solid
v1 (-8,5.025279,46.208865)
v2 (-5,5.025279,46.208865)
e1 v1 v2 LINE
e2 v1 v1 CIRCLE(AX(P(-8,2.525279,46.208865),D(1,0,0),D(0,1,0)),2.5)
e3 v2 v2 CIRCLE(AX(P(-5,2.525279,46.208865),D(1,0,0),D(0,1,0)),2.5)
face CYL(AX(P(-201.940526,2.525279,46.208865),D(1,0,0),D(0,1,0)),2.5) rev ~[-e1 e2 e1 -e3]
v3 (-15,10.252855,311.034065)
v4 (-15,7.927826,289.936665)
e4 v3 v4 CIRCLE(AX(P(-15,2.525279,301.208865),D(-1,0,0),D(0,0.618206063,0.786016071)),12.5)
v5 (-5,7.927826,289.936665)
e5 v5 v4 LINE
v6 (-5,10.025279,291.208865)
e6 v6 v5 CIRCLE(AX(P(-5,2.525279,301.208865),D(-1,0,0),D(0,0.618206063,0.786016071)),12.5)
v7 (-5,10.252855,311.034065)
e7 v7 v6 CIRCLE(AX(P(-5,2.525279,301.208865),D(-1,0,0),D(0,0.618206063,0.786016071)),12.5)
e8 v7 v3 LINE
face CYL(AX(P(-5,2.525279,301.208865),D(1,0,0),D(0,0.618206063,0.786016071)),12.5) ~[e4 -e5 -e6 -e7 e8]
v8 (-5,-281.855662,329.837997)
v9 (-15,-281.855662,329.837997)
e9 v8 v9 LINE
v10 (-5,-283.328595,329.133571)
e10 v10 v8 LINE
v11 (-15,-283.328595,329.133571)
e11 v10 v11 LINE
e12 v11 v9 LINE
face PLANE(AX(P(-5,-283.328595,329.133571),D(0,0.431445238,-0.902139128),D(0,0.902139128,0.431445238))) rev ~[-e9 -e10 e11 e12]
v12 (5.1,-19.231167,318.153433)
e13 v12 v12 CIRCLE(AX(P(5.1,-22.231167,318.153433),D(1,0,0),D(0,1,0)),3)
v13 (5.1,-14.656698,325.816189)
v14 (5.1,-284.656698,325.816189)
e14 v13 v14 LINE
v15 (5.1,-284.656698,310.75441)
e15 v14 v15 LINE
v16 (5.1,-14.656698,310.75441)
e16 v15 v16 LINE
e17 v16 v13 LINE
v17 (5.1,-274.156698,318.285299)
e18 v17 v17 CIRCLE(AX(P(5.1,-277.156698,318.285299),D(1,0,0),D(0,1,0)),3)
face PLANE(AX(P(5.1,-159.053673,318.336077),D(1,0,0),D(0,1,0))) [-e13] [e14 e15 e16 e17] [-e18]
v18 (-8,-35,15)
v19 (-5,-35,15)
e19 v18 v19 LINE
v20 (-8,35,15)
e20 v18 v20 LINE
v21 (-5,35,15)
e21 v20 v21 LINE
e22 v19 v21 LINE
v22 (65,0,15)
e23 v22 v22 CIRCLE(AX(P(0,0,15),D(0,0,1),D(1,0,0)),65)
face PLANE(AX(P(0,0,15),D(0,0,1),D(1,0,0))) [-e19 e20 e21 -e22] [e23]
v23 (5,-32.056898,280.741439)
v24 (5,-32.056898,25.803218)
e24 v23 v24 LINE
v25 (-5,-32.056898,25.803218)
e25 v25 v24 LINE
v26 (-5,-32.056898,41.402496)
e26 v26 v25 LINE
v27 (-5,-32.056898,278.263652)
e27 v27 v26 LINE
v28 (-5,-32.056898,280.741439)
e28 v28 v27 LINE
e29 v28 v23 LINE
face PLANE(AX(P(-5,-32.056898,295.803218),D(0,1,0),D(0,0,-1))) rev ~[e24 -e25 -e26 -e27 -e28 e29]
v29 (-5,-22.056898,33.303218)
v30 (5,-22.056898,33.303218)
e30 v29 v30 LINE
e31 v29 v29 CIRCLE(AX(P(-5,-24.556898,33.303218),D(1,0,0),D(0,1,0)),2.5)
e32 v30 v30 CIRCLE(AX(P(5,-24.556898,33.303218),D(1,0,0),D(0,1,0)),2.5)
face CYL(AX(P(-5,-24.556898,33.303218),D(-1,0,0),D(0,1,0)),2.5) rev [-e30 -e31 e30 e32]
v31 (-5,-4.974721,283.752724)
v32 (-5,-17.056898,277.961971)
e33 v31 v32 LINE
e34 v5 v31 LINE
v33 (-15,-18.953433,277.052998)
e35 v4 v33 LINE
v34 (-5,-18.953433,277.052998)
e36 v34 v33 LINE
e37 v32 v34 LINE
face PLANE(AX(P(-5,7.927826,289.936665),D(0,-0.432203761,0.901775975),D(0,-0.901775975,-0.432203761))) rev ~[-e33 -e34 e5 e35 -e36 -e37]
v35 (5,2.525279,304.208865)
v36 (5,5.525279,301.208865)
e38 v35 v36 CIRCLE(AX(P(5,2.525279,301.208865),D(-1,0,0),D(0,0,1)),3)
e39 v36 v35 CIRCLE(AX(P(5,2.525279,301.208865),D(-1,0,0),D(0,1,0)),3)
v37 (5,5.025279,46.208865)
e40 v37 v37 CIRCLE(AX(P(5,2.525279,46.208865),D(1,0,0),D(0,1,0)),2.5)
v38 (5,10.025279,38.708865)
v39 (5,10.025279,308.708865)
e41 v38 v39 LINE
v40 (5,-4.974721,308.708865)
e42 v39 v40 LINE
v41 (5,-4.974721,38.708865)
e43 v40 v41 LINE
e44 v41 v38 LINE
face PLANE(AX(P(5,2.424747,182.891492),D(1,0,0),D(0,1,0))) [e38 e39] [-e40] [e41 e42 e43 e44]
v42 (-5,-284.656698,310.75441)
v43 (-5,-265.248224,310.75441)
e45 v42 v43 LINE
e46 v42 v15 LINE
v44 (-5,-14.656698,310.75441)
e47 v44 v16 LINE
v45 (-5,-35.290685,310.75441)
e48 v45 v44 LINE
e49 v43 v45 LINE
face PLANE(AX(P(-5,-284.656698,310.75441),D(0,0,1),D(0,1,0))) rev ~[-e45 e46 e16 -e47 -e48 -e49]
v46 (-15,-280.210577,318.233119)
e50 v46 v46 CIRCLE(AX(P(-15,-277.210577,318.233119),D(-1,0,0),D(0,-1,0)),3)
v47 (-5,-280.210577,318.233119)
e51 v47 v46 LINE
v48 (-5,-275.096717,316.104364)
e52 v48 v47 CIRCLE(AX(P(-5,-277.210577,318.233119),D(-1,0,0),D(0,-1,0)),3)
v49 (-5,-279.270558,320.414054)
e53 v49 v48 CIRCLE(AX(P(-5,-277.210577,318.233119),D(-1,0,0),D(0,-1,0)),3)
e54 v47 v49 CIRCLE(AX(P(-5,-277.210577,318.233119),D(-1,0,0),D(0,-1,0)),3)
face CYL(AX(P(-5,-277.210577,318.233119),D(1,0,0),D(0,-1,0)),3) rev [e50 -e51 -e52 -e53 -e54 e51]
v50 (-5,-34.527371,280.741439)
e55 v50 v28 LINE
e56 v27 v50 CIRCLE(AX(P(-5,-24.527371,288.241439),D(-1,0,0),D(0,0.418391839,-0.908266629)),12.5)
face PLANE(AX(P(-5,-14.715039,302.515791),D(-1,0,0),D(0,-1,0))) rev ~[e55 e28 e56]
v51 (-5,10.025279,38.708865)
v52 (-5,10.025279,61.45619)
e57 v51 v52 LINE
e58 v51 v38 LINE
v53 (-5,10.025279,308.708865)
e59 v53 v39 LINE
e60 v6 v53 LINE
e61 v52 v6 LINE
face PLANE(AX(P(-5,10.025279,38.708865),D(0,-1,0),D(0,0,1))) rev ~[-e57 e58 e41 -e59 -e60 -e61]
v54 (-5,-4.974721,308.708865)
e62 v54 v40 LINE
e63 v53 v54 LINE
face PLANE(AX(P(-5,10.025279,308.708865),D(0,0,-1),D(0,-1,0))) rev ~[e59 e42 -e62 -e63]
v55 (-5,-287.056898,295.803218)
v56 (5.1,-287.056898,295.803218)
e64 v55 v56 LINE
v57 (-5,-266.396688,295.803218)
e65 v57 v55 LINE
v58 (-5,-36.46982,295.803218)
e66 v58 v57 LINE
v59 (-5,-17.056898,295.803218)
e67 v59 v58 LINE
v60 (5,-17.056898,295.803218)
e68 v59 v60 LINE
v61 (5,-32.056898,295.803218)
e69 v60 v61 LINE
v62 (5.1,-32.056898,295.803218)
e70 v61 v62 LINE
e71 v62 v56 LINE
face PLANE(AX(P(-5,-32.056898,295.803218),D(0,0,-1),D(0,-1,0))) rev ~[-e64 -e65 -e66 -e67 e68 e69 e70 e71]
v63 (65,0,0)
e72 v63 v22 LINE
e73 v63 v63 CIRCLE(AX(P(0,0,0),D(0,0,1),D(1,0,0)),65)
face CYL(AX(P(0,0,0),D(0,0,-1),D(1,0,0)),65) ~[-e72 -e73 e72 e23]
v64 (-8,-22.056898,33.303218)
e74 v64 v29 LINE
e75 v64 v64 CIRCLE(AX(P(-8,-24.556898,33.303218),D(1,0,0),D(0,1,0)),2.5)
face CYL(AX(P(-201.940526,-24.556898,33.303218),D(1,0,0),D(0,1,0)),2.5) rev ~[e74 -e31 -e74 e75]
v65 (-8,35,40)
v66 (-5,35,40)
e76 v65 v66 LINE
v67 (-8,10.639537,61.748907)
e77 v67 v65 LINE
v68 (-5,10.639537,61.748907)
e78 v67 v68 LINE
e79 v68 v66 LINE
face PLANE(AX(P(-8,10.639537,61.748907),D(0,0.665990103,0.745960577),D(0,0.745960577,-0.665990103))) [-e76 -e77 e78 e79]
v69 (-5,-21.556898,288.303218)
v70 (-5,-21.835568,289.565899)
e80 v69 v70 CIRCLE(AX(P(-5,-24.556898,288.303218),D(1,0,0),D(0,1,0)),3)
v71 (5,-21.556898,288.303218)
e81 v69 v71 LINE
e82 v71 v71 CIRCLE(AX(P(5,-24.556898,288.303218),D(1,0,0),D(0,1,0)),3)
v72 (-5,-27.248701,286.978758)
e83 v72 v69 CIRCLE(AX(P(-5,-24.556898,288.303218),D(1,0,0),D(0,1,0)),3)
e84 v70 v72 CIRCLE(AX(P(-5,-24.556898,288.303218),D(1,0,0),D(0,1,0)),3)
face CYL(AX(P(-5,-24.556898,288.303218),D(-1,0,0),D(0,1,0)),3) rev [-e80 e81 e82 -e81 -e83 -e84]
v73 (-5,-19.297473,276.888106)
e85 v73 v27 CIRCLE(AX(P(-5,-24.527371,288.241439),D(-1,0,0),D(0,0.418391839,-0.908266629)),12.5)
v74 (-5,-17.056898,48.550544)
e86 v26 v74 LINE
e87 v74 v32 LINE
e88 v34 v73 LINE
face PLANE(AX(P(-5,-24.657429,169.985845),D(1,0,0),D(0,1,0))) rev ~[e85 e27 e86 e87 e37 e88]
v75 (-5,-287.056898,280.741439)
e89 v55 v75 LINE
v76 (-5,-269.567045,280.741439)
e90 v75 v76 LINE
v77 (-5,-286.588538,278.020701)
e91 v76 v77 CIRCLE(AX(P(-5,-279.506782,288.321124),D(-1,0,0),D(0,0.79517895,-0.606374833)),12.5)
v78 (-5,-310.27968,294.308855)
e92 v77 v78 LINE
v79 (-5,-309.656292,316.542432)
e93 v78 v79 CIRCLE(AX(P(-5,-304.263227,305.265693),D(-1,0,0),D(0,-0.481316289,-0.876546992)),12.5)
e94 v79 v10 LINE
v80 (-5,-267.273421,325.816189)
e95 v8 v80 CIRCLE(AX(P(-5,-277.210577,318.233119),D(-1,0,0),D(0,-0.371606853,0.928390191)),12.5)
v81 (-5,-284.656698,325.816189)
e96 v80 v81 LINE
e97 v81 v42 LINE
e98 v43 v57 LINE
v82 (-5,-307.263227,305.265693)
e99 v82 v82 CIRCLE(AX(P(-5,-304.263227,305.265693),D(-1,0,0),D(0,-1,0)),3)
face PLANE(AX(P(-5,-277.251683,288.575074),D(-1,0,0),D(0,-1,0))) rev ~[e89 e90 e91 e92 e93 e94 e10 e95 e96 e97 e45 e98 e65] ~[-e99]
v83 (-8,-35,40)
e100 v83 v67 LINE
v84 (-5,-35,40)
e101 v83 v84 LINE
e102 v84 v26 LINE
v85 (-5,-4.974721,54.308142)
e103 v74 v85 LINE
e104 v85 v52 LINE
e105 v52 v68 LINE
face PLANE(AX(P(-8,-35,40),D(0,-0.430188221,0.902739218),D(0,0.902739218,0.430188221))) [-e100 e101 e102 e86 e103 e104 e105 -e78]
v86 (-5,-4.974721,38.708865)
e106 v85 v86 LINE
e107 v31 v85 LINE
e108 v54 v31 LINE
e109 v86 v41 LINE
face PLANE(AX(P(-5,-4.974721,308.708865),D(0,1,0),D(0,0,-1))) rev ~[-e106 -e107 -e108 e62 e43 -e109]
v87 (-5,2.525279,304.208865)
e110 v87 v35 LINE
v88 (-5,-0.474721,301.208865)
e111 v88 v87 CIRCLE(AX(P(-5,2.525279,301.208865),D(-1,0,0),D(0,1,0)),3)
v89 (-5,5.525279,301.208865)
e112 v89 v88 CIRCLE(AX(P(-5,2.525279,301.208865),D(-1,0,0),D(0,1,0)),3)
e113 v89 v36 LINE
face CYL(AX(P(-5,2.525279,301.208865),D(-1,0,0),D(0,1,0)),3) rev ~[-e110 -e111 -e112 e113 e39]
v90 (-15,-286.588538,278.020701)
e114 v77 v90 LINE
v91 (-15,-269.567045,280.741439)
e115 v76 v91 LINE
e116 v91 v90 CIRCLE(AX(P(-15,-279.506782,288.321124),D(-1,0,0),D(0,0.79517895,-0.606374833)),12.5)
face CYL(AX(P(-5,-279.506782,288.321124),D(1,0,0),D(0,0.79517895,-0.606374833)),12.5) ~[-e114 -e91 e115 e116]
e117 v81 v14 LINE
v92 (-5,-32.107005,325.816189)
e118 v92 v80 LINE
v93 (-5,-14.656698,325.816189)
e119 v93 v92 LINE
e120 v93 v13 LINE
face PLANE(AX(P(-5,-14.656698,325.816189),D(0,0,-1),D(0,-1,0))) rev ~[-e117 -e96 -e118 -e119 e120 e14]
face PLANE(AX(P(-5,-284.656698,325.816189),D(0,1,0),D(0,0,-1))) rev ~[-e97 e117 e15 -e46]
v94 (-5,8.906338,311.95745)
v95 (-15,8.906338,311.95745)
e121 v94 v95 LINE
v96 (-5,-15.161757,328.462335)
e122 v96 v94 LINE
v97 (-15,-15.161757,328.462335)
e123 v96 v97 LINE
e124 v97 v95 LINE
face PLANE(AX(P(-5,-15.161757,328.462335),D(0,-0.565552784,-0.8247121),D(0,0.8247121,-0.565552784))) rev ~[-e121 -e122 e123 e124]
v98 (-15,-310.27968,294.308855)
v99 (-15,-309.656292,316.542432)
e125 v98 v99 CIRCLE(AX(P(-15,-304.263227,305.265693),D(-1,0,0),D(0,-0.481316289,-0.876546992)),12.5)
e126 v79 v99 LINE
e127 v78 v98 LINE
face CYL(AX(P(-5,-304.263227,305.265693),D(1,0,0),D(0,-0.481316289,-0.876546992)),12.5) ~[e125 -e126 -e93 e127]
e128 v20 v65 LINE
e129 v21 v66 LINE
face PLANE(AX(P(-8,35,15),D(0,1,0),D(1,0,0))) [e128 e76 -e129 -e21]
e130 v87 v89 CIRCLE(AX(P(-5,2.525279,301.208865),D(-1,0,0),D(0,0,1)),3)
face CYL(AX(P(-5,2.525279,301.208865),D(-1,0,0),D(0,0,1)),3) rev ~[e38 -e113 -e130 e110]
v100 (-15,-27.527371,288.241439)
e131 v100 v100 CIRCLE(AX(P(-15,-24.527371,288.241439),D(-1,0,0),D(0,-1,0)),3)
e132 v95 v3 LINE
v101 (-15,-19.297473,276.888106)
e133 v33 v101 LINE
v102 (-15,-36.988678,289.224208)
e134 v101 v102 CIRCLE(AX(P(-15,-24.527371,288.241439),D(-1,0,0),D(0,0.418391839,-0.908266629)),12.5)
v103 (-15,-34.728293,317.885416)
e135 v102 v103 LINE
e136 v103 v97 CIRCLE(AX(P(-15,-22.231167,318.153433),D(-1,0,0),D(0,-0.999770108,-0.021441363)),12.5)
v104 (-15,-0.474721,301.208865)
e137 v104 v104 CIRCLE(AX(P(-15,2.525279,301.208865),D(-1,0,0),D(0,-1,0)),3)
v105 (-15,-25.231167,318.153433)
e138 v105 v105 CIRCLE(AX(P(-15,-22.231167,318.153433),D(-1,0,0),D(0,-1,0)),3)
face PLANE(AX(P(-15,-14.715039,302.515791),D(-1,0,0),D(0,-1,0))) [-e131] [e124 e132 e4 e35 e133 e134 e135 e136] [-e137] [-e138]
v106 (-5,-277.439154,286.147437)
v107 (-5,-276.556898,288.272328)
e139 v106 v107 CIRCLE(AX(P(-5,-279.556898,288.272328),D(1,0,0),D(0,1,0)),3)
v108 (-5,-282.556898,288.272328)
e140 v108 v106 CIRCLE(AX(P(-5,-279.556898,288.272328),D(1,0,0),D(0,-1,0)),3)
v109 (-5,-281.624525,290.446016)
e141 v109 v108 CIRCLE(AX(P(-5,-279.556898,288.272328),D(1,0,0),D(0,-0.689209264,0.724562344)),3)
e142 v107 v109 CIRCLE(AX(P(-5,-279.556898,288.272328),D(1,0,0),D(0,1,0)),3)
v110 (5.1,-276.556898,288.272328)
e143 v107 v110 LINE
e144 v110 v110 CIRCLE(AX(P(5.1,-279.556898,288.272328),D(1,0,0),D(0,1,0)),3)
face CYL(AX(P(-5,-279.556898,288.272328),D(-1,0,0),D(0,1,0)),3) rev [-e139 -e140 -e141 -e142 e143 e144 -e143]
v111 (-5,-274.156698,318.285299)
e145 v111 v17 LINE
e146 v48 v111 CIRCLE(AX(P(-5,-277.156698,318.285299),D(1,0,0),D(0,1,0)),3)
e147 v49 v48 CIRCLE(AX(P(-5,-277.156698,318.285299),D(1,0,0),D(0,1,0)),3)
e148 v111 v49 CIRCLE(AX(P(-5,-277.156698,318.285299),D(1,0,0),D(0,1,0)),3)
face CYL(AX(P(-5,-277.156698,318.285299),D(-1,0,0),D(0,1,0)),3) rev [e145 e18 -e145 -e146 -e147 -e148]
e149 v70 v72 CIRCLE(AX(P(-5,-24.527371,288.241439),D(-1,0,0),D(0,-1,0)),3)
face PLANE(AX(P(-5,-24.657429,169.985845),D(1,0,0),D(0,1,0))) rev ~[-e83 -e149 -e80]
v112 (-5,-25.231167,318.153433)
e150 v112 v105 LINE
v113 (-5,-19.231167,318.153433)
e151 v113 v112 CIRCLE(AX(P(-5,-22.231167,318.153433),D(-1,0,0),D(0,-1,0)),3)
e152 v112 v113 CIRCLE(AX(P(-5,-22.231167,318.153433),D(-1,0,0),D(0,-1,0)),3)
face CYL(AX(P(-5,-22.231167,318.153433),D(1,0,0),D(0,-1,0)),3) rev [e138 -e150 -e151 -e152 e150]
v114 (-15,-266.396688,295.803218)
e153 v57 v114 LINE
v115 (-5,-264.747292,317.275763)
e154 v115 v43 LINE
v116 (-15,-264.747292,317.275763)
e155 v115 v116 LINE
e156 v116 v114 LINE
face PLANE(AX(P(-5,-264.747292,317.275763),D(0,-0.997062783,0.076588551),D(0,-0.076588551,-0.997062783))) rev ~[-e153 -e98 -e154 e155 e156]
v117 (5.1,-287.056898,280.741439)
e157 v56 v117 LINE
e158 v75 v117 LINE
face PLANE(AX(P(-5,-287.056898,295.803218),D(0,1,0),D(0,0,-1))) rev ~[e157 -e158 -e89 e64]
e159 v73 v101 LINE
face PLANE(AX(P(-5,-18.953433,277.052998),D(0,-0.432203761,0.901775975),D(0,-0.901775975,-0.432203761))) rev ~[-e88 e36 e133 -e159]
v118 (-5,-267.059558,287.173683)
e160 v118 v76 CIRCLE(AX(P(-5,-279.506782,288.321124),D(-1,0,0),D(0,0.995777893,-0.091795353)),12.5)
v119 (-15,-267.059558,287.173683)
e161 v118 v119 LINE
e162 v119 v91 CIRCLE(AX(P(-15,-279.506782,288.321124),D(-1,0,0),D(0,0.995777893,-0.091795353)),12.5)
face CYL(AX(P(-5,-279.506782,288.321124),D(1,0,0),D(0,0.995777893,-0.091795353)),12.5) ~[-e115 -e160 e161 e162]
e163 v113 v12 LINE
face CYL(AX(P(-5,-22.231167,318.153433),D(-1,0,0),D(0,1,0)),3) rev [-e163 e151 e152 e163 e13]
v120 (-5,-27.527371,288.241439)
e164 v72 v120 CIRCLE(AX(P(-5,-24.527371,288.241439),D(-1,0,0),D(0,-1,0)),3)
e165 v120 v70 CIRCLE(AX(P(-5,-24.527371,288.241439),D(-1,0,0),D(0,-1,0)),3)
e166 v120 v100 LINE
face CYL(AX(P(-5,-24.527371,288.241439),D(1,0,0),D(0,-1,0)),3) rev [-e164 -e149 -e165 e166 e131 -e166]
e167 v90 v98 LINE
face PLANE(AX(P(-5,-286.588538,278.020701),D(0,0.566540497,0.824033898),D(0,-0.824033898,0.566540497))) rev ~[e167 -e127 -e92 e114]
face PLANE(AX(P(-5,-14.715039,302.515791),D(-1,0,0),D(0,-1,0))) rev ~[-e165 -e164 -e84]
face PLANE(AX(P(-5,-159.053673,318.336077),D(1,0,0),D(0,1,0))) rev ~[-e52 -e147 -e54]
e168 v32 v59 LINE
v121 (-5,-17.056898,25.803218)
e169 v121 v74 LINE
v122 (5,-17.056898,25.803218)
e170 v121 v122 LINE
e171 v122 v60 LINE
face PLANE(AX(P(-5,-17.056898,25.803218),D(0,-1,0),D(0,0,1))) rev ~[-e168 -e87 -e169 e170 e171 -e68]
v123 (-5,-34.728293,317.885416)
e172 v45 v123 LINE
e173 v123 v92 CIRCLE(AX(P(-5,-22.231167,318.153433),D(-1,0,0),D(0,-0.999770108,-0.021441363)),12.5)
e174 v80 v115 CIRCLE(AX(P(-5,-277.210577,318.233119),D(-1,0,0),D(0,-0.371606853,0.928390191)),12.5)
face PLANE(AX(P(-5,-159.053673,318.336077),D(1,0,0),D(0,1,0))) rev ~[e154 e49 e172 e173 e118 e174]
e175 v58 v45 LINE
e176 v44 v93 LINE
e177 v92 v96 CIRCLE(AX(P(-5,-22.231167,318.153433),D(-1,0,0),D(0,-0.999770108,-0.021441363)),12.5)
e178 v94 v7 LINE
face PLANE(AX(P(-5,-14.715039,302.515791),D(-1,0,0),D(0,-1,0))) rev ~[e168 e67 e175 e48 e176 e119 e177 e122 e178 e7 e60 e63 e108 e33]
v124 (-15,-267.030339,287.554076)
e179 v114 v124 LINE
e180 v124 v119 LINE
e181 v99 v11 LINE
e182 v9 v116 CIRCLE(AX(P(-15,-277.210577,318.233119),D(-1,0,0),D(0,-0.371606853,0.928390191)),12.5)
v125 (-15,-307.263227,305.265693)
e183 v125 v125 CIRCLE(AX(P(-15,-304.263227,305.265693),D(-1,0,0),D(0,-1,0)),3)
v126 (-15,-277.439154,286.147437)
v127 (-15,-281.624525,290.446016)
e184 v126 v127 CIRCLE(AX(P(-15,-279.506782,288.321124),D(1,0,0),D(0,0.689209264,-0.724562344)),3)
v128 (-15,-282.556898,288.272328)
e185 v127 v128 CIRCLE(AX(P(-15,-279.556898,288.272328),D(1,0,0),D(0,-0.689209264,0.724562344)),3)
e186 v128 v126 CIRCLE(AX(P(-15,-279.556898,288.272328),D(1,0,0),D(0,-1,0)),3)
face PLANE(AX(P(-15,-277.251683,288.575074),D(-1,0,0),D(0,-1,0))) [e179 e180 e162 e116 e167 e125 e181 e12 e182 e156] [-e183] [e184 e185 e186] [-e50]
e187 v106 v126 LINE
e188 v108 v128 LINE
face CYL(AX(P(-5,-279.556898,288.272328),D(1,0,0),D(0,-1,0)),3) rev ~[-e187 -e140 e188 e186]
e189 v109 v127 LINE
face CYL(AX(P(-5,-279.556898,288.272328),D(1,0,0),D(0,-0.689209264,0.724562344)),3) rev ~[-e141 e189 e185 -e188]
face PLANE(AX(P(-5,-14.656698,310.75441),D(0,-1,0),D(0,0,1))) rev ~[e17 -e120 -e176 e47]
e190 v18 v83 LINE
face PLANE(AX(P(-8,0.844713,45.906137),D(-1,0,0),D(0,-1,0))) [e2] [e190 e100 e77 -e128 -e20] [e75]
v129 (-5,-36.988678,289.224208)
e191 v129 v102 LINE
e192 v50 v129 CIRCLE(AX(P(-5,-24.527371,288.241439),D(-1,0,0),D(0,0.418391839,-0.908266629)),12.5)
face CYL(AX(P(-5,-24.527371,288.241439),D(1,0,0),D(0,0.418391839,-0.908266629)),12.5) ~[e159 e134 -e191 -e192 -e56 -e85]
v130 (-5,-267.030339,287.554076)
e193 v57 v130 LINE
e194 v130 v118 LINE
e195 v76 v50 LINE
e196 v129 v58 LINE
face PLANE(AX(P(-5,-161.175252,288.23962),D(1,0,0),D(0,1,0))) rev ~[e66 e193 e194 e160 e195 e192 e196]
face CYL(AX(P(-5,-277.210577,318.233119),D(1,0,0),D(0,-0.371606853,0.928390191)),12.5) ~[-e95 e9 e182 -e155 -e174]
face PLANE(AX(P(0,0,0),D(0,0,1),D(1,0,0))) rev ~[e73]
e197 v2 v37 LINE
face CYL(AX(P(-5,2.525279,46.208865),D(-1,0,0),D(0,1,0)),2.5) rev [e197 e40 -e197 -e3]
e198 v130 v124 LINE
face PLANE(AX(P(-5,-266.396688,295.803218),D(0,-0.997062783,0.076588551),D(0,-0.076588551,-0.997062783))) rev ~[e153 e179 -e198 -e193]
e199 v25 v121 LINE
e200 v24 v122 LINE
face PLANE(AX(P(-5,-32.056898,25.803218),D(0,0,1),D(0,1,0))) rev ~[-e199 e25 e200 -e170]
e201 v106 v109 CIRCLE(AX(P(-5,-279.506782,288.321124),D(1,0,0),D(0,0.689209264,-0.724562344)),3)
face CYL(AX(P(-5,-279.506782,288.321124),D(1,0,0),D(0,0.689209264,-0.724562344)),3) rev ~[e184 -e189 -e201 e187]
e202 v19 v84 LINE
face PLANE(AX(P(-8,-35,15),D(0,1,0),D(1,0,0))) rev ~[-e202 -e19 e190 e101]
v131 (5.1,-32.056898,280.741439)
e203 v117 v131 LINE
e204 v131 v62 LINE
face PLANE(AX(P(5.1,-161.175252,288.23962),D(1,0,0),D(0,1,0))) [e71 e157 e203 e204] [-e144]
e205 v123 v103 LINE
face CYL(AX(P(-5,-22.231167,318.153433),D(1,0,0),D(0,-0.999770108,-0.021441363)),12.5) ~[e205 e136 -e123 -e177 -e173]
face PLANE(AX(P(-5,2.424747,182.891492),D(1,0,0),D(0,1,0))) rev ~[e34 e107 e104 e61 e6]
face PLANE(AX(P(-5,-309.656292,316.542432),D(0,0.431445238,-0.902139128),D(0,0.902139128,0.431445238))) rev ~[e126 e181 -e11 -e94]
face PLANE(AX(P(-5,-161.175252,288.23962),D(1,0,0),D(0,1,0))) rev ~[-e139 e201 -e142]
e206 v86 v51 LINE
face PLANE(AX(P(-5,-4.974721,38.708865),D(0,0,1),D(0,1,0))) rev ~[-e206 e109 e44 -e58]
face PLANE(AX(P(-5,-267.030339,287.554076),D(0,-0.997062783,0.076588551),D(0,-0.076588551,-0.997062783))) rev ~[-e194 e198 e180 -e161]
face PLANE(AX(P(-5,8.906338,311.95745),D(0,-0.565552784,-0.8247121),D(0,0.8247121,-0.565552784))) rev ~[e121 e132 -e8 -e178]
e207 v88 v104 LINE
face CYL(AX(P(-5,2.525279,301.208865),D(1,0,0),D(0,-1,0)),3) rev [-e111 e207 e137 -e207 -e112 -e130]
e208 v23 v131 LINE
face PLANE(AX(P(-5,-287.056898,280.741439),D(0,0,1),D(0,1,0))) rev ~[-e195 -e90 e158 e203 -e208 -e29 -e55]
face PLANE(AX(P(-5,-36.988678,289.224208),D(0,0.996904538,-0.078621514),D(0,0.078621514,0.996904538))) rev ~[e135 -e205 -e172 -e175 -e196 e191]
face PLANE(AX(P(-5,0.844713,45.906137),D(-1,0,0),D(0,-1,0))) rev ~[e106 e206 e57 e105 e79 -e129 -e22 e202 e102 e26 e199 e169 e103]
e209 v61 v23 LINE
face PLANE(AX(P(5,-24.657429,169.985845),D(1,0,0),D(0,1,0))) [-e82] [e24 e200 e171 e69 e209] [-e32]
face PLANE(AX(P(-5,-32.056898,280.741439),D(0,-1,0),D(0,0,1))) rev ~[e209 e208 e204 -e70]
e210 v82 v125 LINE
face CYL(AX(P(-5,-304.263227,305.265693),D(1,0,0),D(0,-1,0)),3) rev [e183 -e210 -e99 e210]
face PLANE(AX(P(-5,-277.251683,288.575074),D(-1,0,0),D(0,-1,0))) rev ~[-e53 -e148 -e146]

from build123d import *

# Parameters (mm, degrees)
F0_R      = 65
F1_DEPTH  = 15
F2_W      = 3
F2_H      = 70
F3_DEPTH  = 25
F5_DEPTH  = 3
F7_D      = 5
F8_R      = 3
F8_R_2    = 2.5
F9_DEPTH  = 10
F10_R     = 3
F11_DEPTH = 10
F12_R     = 3
F13_DEPTH = 10.1
F14_R     = 3
F15_DEPTH = 10


with BuildPart() as f1:
    # F0 (on Top) → F1 (new body)
    with BuildSketch(Plane.XY):
        Circle(F0_R)
    extrude(amount=F1_DEPTH)

    # F2 (on face) → F3 (join)
    with BuildSketch(Plane.XY.offset(15)):
        with Locations((-6.5, 0)):
            Rectangle(F2_W, F2_H)
    extrude(amount=F3_DEPTH)

    # F4 (on face) → F5 (join)
    with BuildSketch(Plane(origin=(-8, 0, 0), x_dir=(0, -1, 0), z_dir=(-1, 0, 0))):
        Polygon((-35, 40), (35, 40), (-10.6395371258, 61.74890697), align=None)
    extrude(amount=-F5_DEPTH)

    # F7 (through all)
    with Locations(Plane(origin=(-8, 0, 0), x_dir=(0, -1, 0), z_dir=(-1, 0, 0))):
        with Locations((-2.5252789198, 46.2088645364), (24.5568976072, 33.3032179211)):
            Hole(F7_D / 2)

    # F8 (on face) → F9 (join)
    with BuildSketch(Plane.YZ.offset(-5)):
        Polygon((-32.0568976072, 295.8032179211), (-32.0568976072, 41.4024958221), (-17.0568976072, 48.5505438764), (-17.0568976072, 295.8032179211), align=None)
        with Locations((-24.5568976072, 288.3032179211)):
            Circle(F8_R, mode=Mode.SUBTRACT)
        Polygon((-4.9747210802, 308.7088645364), (-4.9747210802, 54.3081424374), (10.0252789198, 61.4561904917), (10.0252789198, 308.7088645364), (2.5252789198, 308.7088645364), align=None)
        with BuildLine():
            ThreePointArc((5.5252789198, 301.2088645364), (0.4039585762, 299.0875441928), (2.5252789198, 304.2088645364))
            ThreePointArc((2.5252789198, 304.2088645364), (4.6465992633, 303.3301848799), (5.5252789198, 301.2088645364))
        make_face(mode=Mode.SUBTRACT)
        Polygon((10.0252789198, 61.4561904917), (-4.9747210802, 54.3081424374), (-4.9747210802, 38.7088645364), (10.0252789198, 38.7088645364), align=None)
        with Locations((2.5252789198, 46.2088645364)):
            Circle(F8_R_2, mode=Mode.SUBTRACT)
        Polygon((-32.0568976072, 41.4024958221), (-32.0568976072, 25.8032179211), (-17.0568976072, 25.8032179211), (-17.0568976072, 48.5505438764), align=None)
        with Locations((-24.5568976072, 33.3032179211)):
            Circle(F8_R_2, mode=Mode.SUBTRACT)
    extrude(amount=F9_DEPTH)

    # F10 (on face) → F11 (join)
    with BuildSketch(Plane(origin=(-5, 0, 0), x_dir=(0, -1, 0), z_dir=(-1, 0, 0))):
        with BuildLine():
            Line((36.9886778951, 289.224208002), (34.7282933681, 317.885416384))
            ThreePointArc((34.7282933681, 317.885416384), (28.1753092515, 329.1496679175), (15.161757221, 328.4623346707))
            Line((15.161757221, 328.4623346707), (-8.9063381185, 311.9574497225))
            Line((-8.9063381185, 311.9574497225), (-10.2528547102, 311.03406542))
            ThreePointArc((-10.2528547102, 311.03406542), (-14.9500569426, 299.8395979138), (-7.9278259355, 289.9366648512))
            Line((-7.9278259355, 289.9366648512), (18.9534333664, 277.0529978406))
            Line((18.9534333664, 277.0529978406), (19.2974731878, 276.8881062168))
            ThreePointArc((19.2974731878, 276.8881062168), (31.6770683616, 277.9880576803), (36.9886778951, 289.224208002))
        make_face()
        with Locations((-2.5252789198, 301.2088645364)):
            Circle(F10_R, mode=Mode.SUBTRACT)
        with Locations((24.5273711722, 288.2414390787)):
            Circle(F10_R, mode=Mode.SUBTRACT)
        with Locations((22.2311670236, 318.1534334177)):
            Circle(F10_R, mode=Mode.SUBTRACT)
    extrude(amount=F11_DEPTH)

    # F12 (on face) → F13 (join)
    with BuildSketch(Plane.YZ.offset(-5)):
        with BuildLine():
            Line((-287.0568976072, 280.7414390787), (-34.5273711722, 280.7414390787))
            ThreePointArc((-34.5273711722, 280.7414390787), (-36.5322417286, 284.7581815627), (-36.9886778951, 289.224208002))
            Line((-36.9886778951, 289.224208002), (-36.4698200708, 295.8032179211))
            Line((-36.4698200708, 295.8032179211), (-287.0568976072, 295.8032179211))
            Line((-287.0568976072, 295.8032179211), (-287.0568976072, 280.7414390787))
        make_face()
        with Locations((-279.5568976072, 288.2723284999)):
            Circle(F12_R, mode=Mode.SUBTRACT)
        with BuildLine():
            Line((-284.6566983312, 310.7544099386), (-35.2906847515, 310.7544099386))
            Line((-35.2906847515, 310.7544099386), (-34.7282933681, 317.885416384))
            ThreePointArc((-34.7282933681, 317.885416384), (-34.09968308, 322.0762291833), (-32.1070052282, 325.816188781))
            Line((-32.1070052282, 325.816188781), (-284.6566983312, 325.816188781))
            Line((-284.6566983312, 325.816188781), (-284.6566983312, 310.7544099386))
        make_face()
        with Locations((-277.1566983312, 318.2852993598)):
            Circle(F12_R, mode=Mode.SUBTRACT)
        with BuildLine():
            Line((-34.5273711722, 280.7414390787), (-32.0568976072, 280.7414390787))
            Line((-32.0568976072, 280.7414390787), (-32.0568976072, 295.8032179211))
            Line((-32.0568976072, 295.8032179211), (-36.4698200708, 295.8032179211))
            Line((-36.4698200708, 295.8032179211), (-36.9886778951, 289.224208002))
            ThreePointArc((-36.9886778951, 289.224208002), (-36.5322417286, 284.7581815627), (-34.5273711722, 280.7414390787))
        make_face()
        with BuildLine():
            Line((-34.7282933681, 317.885416384), (-35.2906847515, 310.7544099386))
            Line((-35.2906847515, 310.7544099386), (-14.6566983312, 310.7544099386))
            Line((-14.6566983312, 310.7544099386), (-14.6566983312, 325.816188781))
            Line((-14.6566983312, 325.816188781), (-32.1070052282, 325.816188781))
            ThreePointArc((-32.1070052282, 325.816188781), (-34.09968308, 322.0762291833), (-34.7282933681, 317.885416384))
        make_face()
        with Locations((-22.2311670236, 318.1534334177)):
            Circle(F12_R, mode=Mode.SUBTRACT)
    extrude(amount=F13_DEPTH)

    # F14 (on face) → F15 (join)
    with BuildSketch(Plane(origin=(-5, 0, 0), x_dir=(0, -1, 0), z_dir=(-1, 0, 0))):
        with BuildLine():
            ThreePointArc((267.0595581049, 287.1736825743), (267.8604330049, 283.7810187252), (269.5670449033, 280.7414390787))
            Line((269.5670449033, 280.7414390787), (287.0568976072, 280.7414390787))
            Line((287.0568976072, 280.7414390787), (287.0568976072, 295.8032179211))
            Line((287.0568976072, 295.8032179211), (266.3966875062, 295.8032179211))
            Line((266.3966875062, 295.8032179211), (267.0303385293, 287.5540756116))
            Line((267.0303385293, 287.5540756116), (267.0595581049, 287.1736825743))
        make_face()
        with BuildLine():
            ThreePointArc((277.43915398, 286.1474374605), (277.3573466714, 290.4139524214), (281.6245254003, 290.446015531))
            ThreePointArc((281.6245254003, 290.446015531), (282.3139688231, 289.4549350745), (282.5568976072, 288.2723284999))
            ThreePointArc((282.5568976072, 288.2723284999), (280.7072821339, 285.5016579239), (277.43915398, 286.1474374605))
        make_face(mode=Mode.SUBTRACT)
        with BuildLine():
            Line((286.5885379882, 278.0207007669), (310.2796802866, 294.3088553806))
            ThreePointArc((310.2796802866, 294.3088553806), (316.758316211, 305.6160318629), (309.6562921431, 316.5424318913))
            Line((309.6562921431, 316.5424318913), (283.3285948217, 329.133571402))
            Line((283.3285948217, 329.133571402), (281.8556622624, 329.8379968258))
            ThreePointArc((281.8556622624, 329.8379968258), (269.812367904, 328.3086595327), (264.7472918034, 317.275762558))
            Line((264.7472918034, 317.275762558), (266.3966875062, 295.8032179211))
            Line((266.3966875062, 295.8032179211), (287.0568976072, 295.8032179211))
            Line((287.0568976072, 295.8032179211), (287.0568976072, 280.7414390787))
            Line((287.0568976072, 280.7414390787), (269.5670449033, 280.7414390787))
            ThreePointArc((269.5670449033, 280.7414390787), (277.5338100054, 275.9778112248), (286.5885379882, 278.0207007669))
        make_face()
        with Locations((304.2632266742, 305.2656927861)):
            Circle(F14_R, mode=Mode.SUBTRACT)
        with Locations((277.2105765951, 318.2331194398)):
            Circle(F14_R, mode=Mode.SUBTRACT)
    extrude(amount=F15_DEPTH)


solid = f1.part
